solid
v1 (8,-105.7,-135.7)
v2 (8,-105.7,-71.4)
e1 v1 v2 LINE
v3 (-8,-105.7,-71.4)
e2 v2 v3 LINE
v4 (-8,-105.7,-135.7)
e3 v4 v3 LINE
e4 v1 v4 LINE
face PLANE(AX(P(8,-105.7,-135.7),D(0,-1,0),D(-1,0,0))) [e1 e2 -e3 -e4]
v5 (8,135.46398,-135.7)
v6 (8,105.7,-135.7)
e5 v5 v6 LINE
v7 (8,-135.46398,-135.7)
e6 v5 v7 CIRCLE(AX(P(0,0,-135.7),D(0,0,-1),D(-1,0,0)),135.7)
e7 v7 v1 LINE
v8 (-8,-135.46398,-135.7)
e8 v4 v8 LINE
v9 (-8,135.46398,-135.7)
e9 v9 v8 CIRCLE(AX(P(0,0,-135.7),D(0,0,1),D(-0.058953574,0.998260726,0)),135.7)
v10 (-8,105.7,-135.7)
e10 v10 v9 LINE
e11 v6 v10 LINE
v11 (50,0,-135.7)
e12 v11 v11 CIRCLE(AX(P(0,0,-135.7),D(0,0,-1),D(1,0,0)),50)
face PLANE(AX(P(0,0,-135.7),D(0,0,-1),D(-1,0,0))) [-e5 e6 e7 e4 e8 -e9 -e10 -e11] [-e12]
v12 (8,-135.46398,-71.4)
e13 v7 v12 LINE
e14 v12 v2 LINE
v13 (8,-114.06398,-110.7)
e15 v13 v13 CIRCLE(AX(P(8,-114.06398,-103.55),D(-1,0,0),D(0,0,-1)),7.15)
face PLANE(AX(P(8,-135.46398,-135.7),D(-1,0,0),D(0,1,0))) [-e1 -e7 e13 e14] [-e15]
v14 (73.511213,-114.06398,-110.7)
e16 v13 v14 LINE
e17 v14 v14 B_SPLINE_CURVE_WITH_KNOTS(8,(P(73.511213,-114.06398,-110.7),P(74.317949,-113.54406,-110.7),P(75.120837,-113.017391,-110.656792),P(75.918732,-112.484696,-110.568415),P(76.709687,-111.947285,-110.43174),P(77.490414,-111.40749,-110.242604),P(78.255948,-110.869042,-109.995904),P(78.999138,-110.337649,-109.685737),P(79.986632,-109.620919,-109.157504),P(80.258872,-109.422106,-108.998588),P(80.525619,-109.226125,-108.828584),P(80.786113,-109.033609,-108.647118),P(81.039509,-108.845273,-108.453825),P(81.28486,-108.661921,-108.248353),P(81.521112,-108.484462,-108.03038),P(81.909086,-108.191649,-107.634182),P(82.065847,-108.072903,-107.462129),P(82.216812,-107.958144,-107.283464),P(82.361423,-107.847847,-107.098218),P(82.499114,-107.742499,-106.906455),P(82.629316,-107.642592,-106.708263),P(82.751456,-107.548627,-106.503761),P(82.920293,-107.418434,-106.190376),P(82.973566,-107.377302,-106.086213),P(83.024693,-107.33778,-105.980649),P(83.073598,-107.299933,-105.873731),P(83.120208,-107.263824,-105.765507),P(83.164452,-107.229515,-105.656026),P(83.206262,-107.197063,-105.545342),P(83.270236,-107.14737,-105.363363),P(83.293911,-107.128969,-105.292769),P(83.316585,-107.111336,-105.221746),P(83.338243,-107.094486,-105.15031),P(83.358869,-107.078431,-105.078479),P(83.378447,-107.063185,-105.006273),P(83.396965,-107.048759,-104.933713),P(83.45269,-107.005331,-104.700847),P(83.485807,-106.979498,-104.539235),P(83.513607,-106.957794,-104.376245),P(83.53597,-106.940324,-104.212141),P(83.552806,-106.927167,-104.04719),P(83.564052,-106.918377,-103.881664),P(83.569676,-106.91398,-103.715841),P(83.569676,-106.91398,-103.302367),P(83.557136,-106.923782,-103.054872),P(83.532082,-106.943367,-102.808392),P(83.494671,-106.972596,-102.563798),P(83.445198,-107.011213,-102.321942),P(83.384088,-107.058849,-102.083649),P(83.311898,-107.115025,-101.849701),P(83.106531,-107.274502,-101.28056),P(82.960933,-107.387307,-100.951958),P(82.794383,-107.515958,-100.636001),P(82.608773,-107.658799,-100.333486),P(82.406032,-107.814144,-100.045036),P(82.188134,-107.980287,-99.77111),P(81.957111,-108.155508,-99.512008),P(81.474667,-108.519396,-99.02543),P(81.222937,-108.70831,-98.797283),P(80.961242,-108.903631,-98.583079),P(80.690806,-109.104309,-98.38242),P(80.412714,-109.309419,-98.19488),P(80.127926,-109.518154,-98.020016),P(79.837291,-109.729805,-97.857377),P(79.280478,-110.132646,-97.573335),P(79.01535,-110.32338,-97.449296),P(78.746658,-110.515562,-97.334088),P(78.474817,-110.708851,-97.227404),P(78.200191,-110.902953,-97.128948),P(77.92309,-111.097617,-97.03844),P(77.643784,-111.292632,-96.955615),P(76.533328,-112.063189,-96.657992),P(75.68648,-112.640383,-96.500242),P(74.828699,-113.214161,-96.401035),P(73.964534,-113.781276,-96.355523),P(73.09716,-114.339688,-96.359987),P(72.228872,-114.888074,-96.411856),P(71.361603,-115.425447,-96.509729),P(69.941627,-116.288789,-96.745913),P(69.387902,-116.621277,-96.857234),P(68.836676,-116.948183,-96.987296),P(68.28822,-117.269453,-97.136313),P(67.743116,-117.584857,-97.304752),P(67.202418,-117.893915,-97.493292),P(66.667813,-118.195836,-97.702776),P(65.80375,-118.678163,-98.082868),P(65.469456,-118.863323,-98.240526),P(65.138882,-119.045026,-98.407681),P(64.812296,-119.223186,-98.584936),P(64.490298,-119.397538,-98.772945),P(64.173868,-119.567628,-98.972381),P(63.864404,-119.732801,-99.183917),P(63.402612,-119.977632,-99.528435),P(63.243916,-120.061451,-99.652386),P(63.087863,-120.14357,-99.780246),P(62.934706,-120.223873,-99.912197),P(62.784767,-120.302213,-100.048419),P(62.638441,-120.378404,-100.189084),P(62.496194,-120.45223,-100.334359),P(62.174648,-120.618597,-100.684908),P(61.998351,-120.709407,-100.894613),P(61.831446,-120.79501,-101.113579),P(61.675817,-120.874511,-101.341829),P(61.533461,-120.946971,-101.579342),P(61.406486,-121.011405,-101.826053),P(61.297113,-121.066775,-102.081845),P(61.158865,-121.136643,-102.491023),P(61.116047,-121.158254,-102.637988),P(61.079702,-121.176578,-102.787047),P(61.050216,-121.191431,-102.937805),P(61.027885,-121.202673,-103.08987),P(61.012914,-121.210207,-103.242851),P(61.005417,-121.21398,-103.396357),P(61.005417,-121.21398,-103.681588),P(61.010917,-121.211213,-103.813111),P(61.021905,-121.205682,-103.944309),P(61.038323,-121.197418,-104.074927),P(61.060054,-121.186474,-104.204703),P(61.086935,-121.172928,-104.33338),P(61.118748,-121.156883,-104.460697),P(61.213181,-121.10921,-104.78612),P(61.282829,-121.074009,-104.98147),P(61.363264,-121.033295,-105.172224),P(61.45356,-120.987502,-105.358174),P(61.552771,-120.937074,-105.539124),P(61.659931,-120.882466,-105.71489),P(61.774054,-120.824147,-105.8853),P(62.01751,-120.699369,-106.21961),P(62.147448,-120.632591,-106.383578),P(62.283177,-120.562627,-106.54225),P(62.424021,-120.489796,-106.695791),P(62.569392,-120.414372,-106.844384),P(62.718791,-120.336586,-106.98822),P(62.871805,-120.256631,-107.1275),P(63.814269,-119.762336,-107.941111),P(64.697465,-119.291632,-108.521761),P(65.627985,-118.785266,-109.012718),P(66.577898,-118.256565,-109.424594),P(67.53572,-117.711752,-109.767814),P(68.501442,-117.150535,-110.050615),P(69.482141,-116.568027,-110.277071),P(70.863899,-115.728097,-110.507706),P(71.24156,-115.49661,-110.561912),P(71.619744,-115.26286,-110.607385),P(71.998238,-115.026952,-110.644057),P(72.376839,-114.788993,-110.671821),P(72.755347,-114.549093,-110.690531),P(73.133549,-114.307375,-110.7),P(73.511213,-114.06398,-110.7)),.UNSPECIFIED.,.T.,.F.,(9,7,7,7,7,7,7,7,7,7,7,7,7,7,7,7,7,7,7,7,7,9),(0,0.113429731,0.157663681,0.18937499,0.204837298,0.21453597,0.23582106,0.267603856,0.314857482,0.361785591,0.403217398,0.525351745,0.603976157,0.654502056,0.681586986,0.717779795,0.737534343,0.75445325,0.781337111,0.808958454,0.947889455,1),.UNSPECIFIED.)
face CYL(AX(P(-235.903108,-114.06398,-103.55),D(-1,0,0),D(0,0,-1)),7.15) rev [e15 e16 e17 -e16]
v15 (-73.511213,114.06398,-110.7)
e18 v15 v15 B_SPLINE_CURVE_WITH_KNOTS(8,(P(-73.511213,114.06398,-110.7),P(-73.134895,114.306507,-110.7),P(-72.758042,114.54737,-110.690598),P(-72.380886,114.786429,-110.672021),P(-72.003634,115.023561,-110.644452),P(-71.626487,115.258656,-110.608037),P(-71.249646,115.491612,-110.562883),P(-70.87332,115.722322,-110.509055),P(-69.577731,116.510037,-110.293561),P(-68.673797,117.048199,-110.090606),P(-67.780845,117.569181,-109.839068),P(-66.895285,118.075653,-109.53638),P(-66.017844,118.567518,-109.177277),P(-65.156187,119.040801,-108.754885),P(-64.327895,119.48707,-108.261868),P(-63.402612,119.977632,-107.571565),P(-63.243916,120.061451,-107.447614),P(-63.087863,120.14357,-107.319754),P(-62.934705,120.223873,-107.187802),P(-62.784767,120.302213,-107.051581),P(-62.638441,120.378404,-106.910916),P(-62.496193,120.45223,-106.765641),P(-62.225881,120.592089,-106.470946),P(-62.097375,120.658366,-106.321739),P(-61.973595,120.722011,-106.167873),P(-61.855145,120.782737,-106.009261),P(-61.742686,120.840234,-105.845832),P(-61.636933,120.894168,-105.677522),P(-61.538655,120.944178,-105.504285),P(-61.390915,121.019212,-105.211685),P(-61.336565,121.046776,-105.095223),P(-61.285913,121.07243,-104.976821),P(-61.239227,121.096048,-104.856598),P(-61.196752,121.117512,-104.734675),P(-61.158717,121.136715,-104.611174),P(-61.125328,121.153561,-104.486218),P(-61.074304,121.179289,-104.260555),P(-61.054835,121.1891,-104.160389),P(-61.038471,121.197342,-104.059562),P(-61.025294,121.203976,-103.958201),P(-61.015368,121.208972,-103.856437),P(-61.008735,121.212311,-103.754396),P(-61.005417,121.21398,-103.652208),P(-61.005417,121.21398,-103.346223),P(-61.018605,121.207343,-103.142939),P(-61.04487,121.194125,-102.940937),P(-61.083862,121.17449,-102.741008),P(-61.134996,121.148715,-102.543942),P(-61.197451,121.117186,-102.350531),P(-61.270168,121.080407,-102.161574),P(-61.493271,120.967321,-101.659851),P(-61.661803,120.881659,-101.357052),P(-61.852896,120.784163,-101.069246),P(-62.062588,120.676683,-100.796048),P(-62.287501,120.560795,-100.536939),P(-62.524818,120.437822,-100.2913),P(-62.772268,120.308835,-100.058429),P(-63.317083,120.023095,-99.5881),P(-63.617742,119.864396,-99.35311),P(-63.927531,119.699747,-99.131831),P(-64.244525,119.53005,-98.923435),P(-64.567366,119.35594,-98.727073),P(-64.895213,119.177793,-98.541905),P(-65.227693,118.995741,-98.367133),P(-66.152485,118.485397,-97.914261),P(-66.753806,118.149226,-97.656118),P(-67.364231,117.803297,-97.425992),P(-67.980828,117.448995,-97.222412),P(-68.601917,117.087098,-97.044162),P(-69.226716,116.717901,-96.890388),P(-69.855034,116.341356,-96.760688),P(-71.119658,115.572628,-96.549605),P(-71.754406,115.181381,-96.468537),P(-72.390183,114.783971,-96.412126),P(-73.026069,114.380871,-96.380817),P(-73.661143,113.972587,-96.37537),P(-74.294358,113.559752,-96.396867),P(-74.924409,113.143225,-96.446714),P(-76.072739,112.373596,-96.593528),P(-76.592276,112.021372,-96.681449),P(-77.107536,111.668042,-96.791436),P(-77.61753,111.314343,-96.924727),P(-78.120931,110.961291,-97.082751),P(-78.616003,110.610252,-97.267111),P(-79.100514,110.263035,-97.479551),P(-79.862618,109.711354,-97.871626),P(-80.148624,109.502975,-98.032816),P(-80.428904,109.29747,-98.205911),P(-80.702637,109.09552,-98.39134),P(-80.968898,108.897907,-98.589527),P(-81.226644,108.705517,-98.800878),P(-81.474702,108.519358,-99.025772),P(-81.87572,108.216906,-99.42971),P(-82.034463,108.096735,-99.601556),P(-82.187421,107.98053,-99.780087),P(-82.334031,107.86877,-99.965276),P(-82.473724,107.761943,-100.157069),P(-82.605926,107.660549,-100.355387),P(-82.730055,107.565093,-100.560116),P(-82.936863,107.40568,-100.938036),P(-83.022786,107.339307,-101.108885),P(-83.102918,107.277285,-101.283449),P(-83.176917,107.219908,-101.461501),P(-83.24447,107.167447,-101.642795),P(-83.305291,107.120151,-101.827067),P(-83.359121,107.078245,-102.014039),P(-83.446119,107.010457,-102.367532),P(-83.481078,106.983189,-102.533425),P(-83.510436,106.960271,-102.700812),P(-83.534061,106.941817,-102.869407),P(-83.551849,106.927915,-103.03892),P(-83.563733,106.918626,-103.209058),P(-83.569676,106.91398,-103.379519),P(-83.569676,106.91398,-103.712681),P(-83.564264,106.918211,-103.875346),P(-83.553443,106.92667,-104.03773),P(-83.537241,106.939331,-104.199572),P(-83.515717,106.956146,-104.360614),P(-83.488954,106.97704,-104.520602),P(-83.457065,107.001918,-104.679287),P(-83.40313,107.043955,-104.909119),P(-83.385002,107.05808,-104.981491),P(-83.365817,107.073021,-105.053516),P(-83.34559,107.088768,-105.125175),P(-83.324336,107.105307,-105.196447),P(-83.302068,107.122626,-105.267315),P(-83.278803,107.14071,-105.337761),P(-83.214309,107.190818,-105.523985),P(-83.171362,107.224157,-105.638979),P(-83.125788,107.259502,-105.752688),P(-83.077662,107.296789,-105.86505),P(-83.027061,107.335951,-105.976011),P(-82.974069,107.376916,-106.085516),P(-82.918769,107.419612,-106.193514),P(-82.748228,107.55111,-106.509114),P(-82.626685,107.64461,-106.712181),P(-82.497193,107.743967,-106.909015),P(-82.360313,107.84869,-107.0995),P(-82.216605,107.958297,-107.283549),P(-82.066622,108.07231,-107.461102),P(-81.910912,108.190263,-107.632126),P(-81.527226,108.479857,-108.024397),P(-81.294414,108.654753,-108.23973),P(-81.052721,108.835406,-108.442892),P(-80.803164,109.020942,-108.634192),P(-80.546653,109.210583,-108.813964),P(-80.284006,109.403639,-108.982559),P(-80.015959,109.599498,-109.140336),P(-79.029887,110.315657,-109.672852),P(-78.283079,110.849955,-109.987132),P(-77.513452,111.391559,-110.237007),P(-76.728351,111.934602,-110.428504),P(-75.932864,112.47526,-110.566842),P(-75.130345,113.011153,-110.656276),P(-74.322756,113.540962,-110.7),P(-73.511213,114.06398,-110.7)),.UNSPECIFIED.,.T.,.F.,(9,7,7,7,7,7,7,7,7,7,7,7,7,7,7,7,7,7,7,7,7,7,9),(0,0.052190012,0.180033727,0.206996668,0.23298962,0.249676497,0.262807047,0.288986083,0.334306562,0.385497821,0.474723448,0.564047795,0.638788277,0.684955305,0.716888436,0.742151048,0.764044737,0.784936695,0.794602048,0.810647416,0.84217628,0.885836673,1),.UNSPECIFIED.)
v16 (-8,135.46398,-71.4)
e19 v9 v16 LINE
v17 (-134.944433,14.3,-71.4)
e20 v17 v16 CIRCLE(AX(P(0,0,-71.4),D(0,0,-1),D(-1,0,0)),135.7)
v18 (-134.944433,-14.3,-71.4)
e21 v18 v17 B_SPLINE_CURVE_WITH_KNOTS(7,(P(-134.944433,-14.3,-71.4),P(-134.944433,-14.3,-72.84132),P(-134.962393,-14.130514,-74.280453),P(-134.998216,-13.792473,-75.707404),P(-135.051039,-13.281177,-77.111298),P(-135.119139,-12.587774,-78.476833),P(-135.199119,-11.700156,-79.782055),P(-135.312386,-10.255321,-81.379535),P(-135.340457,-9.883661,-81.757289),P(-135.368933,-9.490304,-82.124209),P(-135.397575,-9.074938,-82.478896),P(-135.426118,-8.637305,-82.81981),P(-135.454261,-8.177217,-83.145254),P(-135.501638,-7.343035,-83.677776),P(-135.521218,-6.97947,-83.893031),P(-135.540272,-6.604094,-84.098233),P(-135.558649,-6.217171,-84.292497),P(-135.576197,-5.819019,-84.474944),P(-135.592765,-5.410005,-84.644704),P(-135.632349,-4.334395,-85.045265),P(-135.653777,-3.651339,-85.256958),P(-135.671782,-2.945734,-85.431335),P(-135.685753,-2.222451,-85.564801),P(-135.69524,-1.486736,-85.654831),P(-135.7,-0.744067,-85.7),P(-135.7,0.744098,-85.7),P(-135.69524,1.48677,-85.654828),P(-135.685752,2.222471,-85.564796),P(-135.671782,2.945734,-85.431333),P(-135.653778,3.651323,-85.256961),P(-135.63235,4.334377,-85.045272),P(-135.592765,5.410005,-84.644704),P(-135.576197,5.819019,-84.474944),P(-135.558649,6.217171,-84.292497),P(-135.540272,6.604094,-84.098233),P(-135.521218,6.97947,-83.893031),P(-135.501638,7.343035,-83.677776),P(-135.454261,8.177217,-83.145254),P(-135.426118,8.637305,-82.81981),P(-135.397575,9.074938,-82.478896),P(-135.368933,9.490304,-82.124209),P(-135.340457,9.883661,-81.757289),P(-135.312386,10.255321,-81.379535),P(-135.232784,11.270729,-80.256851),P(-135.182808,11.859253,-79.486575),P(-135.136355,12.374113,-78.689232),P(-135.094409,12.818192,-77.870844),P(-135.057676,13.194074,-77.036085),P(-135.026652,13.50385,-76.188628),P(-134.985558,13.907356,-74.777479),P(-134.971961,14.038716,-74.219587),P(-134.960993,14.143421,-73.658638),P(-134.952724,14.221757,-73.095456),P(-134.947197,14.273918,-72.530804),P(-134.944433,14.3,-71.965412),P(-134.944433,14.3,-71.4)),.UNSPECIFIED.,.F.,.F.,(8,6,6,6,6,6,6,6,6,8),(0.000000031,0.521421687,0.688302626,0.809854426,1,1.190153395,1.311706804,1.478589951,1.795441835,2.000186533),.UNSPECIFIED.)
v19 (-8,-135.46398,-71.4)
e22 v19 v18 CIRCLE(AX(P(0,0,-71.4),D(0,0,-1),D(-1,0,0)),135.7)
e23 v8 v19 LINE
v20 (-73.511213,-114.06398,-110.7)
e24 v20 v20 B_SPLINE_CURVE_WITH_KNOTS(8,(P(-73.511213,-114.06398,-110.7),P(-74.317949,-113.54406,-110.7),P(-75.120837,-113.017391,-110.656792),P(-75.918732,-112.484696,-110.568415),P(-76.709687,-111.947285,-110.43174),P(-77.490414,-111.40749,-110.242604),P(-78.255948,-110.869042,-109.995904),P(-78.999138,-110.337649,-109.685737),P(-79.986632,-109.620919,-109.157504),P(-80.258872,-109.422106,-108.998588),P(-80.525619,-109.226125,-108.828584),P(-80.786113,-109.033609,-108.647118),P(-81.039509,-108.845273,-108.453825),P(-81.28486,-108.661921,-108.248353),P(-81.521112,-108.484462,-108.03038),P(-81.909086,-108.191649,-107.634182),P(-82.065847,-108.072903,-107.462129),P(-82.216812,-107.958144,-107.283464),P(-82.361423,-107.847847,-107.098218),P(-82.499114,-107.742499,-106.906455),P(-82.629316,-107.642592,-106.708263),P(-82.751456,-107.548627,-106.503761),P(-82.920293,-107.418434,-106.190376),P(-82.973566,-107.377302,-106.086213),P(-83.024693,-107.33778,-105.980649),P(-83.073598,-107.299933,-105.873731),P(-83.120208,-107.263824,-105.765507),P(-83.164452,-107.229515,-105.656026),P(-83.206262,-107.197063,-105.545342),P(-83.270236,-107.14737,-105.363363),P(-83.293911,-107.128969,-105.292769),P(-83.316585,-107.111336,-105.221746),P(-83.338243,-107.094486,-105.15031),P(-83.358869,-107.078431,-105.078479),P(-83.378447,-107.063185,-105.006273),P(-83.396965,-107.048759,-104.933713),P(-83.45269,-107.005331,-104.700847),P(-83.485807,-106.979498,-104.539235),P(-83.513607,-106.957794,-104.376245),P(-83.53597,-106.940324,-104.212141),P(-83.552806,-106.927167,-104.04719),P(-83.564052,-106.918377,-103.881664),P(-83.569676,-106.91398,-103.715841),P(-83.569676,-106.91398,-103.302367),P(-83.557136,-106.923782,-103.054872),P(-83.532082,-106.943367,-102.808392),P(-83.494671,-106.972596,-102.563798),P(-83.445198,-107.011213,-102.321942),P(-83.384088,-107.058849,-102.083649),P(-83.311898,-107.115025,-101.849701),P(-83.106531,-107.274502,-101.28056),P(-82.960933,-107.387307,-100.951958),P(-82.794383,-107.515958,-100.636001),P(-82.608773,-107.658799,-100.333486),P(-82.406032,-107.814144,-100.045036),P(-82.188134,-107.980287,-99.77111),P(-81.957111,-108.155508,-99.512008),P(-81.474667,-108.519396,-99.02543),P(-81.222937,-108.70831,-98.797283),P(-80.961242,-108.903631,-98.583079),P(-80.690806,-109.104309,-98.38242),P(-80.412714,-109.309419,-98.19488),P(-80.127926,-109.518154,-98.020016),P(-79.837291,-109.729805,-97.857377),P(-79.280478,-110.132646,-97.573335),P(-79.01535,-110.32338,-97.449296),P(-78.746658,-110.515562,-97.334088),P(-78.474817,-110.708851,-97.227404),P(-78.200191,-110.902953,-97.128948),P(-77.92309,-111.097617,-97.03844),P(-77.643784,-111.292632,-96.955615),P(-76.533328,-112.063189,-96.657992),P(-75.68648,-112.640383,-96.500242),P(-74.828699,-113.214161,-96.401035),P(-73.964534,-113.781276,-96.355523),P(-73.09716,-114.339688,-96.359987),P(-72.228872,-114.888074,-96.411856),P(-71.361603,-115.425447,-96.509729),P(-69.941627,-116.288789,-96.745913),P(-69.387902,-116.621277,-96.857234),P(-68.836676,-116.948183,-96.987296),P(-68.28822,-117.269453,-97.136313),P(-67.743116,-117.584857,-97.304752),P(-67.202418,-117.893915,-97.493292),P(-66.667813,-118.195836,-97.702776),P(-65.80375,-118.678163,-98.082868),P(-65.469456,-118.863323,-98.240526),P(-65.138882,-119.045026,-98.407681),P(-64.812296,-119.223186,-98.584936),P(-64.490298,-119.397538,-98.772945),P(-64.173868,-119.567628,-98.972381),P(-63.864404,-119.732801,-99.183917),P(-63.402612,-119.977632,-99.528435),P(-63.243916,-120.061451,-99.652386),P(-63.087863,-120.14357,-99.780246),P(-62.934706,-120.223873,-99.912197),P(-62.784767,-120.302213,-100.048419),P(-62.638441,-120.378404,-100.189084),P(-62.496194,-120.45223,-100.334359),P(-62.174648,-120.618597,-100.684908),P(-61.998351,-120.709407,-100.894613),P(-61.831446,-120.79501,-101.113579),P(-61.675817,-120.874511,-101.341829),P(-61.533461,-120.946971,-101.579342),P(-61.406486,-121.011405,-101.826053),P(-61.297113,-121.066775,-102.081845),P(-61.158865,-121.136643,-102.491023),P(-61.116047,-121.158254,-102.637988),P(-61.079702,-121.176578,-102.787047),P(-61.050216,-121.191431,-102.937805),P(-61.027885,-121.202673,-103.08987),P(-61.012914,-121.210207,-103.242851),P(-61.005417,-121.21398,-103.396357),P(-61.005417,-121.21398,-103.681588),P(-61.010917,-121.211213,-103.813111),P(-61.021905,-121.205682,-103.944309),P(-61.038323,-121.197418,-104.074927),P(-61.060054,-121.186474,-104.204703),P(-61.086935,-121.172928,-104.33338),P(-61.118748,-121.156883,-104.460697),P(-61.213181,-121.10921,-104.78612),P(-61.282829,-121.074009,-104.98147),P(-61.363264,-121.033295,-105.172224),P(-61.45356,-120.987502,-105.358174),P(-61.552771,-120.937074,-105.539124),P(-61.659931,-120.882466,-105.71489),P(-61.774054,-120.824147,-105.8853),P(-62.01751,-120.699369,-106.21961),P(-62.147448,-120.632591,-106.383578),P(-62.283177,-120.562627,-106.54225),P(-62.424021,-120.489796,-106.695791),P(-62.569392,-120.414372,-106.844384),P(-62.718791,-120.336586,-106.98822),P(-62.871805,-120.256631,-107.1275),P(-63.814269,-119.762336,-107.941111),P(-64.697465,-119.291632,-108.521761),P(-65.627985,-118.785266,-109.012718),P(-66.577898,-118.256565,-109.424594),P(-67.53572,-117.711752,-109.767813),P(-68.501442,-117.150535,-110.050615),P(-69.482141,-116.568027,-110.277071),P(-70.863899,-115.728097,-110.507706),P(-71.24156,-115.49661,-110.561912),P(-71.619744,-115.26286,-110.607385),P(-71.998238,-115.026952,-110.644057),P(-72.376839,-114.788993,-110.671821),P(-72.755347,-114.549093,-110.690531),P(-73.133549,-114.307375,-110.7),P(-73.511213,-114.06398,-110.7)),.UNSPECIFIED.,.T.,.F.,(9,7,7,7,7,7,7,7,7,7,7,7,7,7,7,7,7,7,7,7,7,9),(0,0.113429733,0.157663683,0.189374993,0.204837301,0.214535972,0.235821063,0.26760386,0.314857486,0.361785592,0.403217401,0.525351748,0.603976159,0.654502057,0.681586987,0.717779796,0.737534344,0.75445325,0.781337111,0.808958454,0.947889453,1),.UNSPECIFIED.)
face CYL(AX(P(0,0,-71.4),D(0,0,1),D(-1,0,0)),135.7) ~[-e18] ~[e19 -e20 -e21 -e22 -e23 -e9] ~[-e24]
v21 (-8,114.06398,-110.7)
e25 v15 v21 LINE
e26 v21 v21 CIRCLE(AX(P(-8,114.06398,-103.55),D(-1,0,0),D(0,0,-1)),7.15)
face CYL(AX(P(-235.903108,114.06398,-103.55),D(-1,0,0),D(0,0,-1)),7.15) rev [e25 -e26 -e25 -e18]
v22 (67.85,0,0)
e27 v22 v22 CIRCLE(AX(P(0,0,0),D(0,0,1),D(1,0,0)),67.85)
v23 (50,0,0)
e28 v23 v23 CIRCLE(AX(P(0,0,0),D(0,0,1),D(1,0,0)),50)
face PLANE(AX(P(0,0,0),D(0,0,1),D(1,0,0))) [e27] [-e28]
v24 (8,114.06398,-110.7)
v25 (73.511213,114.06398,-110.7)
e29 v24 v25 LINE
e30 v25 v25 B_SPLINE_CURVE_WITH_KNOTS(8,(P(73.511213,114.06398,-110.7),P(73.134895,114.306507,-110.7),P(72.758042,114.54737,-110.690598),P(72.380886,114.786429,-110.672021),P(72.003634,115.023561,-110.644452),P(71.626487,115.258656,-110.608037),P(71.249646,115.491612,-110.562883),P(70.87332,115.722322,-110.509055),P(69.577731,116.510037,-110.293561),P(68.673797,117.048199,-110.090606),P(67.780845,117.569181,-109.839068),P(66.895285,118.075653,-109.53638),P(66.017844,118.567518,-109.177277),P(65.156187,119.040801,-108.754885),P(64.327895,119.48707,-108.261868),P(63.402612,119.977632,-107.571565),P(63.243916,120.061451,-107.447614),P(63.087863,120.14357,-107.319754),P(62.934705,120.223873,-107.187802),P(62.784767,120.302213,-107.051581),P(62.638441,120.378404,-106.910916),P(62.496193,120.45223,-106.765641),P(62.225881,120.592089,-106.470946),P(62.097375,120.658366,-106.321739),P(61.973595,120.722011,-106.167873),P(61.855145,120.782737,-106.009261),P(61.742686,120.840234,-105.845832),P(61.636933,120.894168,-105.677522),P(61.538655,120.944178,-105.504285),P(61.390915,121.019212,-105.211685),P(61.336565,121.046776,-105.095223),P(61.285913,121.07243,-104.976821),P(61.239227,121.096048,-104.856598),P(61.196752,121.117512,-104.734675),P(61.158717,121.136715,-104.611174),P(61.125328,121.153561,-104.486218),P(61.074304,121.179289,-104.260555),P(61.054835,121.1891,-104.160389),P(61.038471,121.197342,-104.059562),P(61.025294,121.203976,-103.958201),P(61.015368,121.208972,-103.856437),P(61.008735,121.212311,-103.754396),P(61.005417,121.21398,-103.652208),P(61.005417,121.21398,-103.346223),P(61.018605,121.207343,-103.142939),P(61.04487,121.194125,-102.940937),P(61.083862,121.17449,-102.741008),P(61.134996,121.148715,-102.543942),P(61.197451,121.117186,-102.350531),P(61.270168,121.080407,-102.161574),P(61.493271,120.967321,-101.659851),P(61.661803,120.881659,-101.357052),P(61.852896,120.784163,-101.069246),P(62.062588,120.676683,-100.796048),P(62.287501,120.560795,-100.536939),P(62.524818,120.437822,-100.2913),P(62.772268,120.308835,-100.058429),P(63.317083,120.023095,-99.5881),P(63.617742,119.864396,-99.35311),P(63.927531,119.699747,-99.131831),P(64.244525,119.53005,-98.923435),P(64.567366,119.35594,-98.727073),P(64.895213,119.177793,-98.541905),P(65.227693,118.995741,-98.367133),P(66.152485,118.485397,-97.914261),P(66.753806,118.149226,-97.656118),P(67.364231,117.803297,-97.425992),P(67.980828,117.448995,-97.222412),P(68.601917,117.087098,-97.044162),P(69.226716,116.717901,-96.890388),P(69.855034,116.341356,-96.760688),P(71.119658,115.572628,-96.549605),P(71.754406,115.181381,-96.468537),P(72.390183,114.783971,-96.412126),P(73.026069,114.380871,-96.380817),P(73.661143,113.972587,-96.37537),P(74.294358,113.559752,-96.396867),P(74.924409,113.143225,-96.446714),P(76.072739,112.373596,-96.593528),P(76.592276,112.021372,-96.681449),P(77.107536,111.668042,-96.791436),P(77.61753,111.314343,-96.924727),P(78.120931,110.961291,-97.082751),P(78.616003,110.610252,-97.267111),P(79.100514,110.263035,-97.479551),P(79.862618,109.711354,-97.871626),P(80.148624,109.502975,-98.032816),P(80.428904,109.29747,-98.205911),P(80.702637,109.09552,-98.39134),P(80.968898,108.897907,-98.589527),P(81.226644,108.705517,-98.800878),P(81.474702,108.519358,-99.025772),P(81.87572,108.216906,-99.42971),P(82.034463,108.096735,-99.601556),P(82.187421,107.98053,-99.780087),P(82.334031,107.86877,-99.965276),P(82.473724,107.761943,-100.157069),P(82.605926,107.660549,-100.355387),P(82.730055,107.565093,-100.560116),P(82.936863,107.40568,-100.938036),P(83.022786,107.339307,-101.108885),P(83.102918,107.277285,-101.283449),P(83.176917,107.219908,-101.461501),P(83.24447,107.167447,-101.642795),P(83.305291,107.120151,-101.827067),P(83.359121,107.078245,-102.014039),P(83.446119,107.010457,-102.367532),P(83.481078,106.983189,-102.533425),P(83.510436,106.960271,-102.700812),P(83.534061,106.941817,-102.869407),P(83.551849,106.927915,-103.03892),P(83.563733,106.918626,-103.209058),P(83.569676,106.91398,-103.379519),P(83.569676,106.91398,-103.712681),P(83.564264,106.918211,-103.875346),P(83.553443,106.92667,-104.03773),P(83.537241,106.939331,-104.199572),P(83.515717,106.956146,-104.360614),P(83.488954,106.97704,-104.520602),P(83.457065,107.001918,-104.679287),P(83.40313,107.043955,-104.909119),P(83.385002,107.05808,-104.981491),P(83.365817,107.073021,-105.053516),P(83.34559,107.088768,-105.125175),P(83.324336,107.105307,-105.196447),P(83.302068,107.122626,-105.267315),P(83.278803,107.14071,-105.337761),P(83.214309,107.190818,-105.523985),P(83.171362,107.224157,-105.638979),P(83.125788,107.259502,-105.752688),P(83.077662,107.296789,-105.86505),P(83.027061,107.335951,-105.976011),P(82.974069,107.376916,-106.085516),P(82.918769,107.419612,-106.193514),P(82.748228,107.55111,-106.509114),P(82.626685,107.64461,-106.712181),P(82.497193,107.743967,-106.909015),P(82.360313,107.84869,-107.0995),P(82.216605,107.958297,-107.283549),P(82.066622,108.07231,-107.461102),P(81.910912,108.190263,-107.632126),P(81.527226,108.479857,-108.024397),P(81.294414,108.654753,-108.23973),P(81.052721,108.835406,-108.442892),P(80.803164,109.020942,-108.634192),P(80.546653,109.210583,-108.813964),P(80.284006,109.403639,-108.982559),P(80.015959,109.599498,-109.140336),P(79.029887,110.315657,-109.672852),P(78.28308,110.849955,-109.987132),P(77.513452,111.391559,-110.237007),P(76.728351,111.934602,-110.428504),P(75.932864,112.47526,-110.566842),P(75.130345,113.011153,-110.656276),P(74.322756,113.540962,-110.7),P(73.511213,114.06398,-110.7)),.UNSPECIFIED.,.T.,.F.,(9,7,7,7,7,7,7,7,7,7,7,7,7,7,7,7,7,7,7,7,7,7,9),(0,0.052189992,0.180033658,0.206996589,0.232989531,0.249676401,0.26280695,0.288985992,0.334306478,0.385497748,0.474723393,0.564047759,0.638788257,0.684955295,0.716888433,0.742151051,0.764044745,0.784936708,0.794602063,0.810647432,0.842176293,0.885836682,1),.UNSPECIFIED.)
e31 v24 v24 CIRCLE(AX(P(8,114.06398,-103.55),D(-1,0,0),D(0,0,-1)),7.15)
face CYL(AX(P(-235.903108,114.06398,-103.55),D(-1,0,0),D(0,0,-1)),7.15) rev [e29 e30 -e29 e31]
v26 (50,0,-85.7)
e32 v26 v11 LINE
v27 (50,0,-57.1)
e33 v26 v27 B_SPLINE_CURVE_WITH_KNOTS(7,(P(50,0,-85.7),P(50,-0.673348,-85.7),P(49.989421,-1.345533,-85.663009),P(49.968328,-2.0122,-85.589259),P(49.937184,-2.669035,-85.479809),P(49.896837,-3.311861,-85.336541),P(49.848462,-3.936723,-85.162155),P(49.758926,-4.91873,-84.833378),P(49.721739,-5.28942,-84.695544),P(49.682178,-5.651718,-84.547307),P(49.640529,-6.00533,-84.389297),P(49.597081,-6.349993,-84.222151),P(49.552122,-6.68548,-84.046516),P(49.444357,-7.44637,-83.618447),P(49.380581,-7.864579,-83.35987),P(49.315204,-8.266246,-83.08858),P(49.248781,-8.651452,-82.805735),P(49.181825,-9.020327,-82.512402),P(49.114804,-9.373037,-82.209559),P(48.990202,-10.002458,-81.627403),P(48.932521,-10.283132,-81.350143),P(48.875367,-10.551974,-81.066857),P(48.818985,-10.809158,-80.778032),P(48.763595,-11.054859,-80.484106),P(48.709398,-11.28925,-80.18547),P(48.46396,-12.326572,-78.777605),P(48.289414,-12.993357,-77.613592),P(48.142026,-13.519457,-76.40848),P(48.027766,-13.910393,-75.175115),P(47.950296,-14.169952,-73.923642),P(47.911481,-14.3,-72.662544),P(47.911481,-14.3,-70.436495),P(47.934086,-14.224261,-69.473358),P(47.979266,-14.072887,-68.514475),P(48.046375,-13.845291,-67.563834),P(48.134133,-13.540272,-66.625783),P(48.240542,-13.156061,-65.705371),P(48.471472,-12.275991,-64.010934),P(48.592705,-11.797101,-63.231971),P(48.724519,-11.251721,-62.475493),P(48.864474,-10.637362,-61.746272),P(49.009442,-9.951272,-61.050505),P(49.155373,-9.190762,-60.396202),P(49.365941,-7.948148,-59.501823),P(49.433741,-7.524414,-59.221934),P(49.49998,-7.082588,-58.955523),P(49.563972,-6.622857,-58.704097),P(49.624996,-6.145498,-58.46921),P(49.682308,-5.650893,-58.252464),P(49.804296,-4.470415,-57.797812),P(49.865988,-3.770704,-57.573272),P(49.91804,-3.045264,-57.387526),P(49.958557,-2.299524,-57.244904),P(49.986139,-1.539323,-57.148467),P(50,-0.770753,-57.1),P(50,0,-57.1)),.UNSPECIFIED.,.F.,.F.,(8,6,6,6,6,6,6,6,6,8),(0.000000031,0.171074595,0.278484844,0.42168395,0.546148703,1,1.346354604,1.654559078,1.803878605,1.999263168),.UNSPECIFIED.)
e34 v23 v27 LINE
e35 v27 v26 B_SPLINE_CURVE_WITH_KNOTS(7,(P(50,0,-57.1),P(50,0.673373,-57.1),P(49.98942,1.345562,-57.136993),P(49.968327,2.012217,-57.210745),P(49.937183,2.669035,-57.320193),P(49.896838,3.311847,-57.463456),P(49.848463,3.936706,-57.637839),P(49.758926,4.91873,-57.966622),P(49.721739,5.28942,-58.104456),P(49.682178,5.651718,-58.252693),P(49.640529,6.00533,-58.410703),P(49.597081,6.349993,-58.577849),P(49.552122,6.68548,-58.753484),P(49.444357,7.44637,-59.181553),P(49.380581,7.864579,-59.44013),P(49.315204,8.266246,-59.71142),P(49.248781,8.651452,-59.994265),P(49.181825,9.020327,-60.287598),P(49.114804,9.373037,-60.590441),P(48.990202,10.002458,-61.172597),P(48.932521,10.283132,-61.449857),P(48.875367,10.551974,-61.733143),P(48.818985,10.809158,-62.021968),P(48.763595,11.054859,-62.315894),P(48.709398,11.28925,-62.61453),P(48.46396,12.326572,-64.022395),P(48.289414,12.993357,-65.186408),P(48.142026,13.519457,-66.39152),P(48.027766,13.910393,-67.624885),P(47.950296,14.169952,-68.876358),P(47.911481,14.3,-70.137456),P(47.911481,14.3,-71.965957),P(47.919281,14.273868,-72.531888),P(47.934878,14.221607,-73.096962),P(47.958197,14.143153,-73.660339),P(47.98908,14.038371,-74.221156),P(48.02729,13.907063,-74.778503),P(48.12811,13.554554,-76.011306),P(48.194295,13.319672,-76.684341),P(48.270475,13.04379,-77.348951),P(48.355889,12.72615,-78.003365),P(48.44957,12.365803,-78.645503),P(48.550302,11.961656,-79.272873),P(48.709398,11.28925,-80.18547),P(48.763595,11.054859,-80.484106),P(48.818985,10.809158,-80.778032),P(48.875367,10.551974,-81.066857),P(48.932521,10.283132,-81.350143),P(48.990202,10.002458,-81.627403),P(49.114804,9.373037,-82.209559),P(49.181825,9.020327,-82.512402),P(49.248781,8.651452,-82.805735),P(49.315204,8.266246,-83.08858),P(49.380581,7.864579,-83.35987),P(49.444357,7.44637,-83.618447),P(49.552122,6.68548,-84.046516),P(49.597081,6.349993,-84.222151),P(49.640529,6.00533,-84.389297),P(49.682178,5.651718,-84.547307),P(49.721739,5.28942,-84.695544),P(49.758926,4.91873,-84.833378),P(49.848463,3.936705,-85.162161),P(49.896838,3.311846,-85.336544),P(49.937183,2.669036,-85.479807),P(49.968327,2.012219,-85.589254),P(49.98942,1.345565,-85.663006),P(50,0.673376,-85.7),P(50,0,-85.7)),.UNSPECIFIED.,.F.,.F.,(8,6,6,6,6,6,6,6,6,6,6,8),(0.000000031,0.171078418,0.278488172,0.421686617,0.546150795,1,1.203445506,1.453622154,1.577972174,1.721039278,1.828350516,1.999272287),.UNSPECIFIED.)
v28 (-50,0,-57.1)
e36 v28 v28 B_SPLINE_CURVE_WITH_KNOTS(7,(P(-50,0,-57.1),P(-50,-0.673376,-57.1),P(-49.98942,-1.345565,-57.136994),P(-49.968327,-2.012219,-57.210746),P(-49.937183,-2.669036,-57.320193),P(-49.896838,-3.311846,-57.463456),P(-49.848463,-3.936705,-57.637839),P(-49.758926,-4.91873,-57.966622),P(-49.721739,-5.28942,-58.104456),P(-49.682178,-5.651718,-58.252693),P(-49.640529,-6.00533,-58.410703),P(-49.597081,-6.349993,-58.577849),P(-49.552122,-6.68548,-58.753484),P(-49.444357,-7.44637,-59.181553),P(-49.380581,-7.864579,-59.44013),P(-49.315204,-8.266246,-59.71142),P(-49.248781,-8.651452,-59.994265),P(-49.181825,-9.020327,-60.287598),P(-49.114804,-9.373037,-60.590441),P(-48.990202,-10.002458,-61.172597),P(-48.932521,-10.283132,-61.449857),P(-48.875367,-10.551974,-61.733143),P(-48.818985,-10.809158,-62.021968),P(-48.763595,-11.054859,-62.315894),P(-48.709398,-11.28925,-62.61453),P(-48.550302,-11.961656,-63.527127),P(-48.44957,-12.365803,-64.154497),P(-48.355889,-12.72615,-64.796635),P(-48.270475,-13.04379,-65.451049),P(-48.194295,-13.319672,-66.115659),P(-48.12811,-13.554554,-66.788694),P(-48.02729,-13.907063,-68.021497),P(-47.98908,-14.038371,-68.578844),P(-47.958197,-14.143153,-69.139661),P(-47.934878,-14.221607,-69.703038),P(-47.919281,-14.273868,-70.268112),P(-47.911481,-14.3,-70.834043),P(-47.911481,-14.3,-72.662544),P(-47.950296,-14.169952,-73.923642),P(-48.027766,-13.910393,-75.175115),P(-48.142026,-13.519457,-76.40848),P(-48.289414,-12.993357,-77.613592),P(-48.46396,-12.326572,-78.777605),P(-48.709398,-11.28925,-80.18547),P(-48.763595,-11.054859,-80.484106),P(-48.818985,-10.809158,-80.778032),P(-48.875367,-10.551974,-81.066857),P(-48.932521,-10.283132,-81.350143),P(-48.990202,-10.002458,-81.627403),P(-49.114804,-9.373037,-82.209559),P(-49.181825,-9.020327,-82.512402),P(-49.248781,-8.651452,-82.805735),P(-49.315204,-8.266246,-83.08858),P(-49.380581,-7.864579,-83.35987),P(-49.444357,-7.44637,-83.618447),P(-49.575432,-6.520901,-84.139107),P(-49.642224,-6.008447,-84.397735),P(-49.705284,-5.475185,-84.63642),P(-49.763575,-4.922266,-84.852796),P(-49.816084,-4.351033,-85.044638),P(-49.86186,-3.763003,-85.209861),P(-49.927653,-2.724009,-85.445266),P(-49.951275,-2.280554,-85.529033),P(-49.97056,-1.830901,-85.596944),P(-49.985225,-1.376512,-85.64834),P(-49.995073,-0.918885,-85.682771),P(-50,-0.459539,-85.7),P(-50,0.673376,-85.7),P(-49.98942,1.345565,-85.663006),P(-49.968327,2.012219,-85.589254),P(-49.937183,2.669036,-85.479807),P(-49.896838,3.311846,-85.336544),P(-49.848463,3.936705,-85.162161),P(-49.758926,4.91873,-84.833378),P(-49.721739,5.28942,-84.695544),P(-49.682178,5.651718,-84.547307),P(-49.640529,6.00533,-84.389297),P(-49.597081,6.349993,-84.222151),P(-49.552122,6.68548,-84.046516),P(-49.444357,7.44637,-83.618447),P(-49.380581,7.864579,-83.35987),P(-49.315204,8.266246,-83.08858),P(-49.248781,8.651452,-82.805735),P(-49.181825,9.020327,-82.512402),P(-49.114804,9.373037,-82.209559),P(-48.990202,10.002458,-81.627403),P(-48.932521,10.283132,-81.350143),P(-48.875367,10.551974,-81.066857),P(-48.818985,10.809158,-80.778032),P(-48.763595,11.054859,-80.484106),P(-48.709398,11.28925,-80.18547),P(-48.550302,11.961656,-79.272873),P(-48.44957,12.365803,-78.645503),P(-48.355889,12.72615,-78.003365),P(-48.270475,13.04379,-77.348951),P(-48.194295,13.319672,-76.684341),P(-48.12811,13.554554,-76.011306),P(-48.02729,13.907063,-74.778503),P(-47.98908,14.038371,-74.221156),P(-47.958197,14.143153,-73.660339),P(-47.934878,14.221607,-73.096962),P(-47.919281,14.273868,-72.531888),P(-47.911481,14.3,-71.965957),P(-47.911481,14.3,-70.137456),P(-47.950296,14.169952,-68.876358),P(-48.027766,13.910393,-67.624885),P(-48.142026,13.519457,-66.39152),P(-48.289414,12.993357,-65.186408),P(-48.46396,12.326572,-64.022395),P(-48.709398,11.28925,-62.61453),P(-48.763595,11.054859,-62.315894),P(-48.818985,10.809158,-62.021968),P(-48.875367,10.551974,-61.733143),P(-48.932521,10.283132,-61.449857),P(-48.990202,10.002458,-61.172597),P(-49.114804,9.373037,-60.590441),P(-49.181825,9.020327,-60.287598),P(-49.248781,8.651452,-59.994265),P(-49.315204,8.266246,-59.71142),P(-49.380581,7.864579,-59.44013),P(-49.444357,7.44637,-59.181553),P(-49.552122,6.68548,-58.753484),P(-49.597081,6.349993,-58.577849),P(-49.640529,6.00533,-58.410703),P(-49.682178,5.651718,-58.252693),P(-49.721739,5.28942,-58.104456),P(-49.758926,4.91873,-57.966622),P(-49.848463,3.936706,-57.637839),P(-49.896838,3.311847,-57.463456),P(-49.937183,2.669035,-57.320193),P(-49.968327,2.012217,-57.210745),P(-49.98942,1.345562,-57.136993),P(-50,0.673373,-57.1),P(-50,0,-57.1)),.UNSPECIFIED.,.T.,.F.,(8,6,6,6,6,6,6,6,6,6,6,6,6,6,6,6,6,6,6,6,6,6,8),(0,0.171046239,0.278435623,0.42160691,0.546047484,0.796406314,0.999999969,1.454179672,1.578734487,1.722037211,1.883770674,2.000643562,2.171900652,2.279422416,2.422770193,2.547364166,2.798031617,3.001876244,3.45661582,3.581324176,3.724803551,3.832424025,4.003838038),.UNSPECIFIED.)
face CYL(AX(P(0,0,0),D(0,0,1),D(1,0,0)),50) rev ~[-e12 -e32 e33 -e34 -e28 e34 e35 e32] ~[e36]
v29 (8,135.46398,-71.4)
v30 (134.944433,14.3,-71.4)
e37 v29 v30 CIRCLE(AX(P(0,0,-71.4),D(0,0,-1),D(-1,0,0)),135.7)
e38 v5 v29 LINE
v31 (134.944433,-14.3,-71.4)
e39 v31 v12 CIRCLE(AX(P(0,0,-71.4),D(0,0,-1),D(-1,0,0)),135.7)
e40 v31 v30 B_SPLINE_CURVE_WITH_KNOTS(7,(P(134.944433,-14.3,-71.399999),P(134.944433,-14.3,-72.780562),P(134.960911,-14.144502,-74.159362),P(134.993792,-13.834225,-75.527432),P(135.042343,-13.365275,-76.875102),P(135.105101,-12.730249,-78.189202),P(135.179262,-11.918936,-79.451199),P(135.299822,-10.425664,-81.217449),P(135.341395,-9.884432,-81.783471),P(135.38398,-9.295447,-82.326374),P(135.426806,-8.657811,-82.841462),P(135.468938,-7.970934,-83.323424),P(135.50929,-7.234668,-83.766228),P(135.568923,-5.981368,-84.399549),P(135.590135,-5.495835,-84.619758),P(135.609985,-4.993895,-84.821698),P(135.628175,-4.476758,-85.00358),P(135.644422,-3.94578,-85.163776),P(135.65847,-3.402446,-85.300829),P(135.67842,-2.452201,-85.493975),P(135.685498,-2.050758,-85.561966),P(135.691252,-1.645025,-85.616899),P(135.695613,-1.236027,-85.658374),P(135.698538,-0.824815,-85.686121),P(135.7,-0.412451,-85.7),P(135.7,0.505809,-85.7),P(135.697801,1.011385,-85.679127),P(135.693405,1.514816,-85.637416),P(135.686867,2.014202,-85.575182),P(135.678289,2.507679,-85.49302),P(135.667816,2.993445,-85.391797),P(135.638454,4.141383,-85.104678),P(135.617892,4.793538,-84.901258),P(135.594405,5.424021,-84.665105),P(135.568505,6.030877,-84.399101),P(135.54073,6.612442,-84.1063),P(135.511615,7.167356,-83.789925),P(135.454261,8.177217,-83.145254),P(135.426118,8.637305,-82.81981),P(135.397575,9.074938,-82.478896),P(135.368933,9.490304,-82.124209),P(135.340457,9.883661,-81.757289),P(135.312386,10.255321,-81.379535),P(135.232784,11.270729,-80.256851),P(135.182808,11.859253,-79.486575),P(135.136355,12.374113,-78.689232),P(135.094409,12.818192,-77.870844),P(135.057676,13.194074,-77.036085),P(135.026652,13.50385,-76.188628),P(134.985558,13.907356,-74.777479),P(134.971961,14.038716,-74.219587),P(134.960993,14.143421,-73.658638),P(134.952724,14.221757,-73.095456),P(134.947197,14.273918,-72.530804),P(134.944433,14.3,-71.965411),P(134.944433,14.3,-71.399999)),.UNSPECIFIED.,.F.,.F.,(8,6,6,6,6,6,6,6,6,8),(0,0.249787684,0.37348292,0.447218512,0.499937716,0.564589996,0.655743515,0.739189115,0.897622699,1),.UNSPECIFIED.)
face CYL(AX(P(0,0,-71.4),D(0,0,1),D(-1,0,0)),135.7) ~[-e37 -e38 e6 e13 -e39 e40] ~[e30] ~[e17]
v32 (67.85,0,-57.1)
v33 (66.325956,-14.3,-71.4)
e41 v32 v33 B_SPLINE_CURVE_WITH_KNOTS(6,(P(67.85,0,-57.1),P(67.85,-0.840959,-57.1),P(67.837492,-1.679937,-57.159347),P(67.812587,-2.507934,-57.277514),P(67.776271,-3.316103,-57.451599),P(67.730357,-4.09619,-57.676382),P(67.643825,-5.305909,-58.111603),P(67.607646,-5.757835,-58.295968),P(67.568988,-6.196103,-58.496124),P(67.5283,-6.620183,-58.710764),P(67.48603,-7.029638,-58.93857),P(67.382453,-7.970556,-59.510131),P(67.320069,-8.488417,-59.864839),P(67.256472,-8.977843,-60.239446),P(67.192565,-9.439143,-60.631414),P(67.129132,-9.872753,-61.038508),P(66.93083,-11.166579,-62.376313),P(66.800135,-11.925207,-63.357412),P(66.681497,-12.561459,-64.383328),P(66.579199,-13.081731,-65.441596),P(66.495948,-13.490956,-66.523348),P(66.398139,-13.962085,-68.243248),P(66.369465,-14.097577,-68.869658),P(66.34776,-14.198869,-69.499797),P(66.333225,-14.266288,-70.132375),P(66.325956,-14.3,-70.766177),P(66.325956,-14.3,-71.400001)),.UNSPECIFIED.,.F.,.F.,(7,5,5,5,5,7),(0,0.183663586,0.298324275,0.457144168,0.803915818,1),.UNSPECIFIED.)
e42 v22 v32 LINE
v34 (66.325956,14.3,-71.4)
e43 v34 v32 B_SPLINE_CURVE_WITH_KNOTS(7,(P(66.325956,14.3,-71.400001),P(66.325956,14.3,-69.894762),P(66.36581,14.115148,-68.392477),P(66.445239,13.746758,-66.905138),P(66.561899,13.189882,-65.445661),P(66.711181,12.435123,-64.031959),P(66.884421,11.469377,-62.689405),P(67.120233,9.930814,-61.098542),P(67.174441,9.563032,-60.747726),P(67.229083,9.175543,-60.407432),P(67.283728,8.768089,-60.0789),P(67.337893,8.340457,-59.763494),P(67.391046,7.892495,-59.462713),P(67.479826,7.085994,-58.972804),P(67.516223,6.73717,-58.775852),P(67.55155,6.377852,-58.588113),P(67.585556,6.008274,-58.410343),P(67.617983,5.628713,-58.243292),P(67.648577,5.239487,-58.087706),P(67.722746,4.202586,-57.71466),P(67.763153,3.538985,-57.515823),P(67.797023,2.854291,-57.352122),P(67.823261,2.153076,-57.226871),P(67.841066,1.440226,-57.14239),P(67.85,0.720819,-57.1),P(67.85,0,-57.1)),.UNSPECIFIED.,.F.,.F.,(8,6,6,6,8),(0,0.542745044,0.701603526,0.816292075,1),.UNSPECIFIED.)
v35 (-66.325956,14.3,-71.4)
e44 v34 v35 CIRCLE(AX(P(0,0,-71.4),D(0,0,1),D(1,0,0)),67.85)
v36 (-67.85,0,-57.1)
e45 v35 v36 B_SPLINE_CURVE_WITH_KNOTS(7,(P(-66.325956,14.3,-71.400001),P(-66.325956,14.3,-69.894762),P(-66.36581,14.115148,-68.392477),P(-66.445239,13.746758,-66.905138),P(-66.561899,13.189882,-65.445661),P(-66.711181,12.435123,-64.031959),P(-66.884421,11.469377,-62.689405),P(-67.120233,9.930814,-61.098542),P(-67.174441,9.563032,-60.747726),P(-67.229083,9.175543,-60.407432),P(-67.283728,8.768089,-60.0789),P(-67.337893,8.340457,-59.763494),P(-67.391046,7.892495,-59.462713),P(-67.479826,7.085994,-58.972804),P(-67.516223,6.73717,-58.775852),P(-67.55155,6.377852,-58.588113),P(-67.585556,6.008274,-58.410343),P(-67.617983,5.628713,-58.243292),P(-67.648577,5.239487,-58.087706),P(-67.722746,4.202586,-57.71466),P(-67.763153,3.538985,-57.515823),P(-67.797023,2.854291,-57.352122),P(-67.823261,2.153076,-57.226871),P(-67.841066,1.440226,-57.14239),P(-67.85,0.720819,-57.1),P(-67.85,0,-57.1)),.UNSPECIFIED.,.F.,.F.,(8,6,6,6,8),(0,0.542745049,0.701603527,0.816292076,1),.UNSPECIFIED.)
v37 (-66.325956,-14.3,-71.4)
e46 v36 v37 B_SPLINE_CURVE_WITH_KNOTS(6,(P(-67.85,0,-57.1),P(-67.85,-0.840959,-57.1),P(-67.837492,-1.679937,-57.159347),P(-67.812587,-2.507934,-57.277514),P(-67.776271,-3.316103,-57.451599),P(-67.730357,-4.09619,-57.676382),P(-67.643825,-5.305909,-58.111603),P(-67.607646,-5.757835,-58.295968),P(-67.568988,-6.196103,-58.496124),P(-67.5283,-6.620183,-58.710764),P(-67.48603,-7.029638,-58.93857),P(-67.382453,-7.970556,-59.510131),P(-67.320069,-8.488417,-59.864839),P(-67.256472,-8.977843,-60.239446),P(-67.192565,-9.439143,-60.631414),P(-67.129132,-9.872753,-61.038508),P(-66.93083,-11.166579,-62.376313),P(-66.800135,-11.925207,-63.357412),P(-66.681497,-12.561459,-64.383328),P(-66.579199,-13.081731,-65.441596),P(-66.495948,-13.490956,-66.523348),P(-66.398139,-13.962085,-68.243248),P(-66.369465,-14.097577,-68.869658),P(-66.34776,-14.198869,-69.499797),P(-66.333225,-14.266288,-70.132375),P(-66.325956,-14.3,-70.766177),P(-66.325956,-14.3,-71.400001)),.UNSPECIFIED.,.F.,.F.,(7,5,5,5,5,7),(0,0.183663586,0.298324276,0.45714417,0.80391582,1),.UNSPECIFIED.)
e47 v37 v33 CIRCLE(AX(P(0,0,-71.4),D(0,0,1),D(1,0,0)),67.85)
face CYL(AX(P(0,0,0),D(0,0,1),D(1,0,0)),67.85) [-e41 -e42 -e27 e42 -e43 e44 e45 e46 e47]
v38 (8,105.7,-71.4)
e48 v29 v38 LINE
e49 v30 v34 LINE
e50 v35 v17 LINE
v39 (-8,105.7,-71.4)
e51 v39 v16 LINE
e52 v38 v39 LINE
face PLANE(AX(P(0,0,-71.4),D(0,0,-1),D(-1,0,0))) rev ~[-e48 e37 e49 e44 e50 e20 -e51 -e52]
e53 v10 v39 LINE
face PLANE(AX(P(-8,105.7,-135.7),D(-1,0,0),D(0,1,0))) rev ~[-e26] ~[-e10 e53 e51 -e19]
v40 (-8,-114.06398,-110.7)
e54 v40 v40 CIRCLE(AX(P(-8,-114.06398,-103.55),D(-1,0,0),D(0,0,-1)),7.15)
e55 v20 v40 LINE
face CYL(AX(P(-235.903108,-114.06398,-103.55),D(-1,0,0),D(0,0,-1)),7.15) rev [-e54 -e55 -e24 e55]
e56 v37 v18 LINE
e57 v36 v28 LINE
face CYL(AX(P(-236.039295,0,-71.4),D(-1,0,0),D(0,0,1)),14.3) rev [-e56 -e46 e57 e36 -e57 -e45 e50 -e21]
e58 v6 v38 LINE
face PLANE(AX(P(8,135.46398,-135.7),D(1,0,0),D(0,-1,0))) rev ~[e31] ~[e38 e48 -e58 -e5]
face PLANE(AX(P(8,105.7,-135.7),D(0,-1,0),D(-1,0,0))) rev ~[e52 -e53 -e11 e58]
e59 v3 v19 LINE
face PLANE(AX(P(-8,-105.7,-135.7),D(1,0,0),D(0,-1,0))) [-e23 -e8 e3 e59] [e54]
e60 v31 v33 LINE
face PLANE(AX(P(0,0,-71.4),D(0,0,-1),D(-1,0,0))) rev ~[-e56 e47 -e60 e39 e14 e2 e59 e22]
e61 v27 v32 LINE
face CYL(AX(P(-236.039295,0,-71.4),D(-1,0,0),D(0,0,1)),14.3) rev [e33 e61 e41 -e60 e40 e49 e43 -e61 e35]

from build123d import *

# Parameters (mm, degrees)
ESQUISSE1_R                  = 67.85
ESQUISSE1_R_2                = 50
BOSS_EXTRU_1_DEPTH           = 71.4
ESQUISSE3_R                  = 135.7
ESQUISSE3_R_2                = 50
BOSS_EXTRU_2_DEPTH           = 64.3
ENL_V_MAT_EXTRU_1_DEPTH      = 236.039294587
ENL_V_MAT_EXTRU_1_DEPTH_BACK = 236.039294587
ESQUISSE4_R                  = 14.3
ENL_V_MAT_EXTRU_2_DEPTH      = 236.03929476
ENL_V_MAT_EXTRU_3_DEPTH      = 235.903107858
ENL_V_MAT_EXTRU_3_DEPTH_BACK = 235.903107858
ESQUISSE7_R                  = 7.15


with BuildPart() as part:
    # Esquisse1 → Boss.-Extru.1 (new body)
    with BuildSketch(Plane.XY):
        Circle(ESQUISSE1_R)
        Circle(ESQUISSE1_R_2, mode=Mode.SUBTRACT)
    extrude(amount=-BOSS_EXTRU_1_DEPTH)

    # Esquisse3 → Boss.-Extru.2 (add)
    with BuildSketch(Plane(origin=(0, 0, -71.4), x_dir=(-1, 0, 0), z_dir=(0, 0, -1))):
        Circle(ESQUISSE3_R)
        with Locations(Location((0, 0, 0), (0, 0, 180))):
            Circle(ESQUISSE3_R_2, mode=Mode.SUBTRACT)
    extrude(amount=BOSS_EXTRU_2_DEPTH)

    # Esquisse4 → Enlèv. mat.-Extru.1 (cut, two sides: drawn at the far end of the back side and taken through both)
    with BuildSketch(Plane(origin=(0, 0, 0), x_dir=(0, 0, -1), z_dir=(1, 0, 0)).offset(-ENL_V_MAT_EXTRU_1_DEPTH_BACK)):
        with Locations(Location((71.4, 0, 0), (0, 0, 180))):
            Circle(ESQUISSE4_R)
    extrude(amount=ENL_V_MAT_EXTRU_1_DEPTH + ENL_V_MAT_EXTRU_1_DEPTH_BACK, mode=Mode.SUBTRACT)

    # Esquisse6 → Enlèv. mat.-Extru.2 (cut, through all)
    with BuildSketch(Plane(origin=(0, 0, -135.7), x_dir=(-1, 0, 0), z_dir=(0, 0, -1))):
        with BuildLine():
            Line((-8, 105.7), (8, 105.7))
            Line((8, 105.7), (8, 135.463980452))
            ThreePointArc((8, 135.463980452), (0, 135.7), (-8, 135.463980452))
            Line((-8, 135.463980452), (-8, 105.7))
        make_face()
        with BuildLine():
            Line((8, -105.7), (8, -135.463980452))
            ThreePointArc((8, -135.463980452), (0, -135.7), (-8, -135.463980452))
            Line((-8, -135.463980452), (-8, -105.7))
            Line((-8, -105.7), (8, -105.7))
        make_face()
    extrude(amount=-ENL_V_MAT_EXTRU_2_DEPTH, mode=Mode.SUBTRACT)

    # Esquisse7 → Enlèv. mat.-Extru.3 (cut, two sides: drawn at the far end of the back side and taken through both)
    with BuildSketch(Plane(origin=(0, 0, 0), x_dir=(0, 0, -1), z_dir=(1, 0, 0)).offset(-ENL_V_MAT_EXTRU_3_DEPTH_BACK)):
        with Locations((103.55, 114.063980452)):
            Circle(ESQUISSE7_R)
        with Locations((103.55, -114.063980452)):
            Circle(ESQUISSE7_R)
    extrude(amount=ENL_V_MAT_EXTRU_3_DEPTH + ENL_V_MAT_EXTRU_3_DEPTH_BACK, mode=Mode.SUBTRACT)


solid = part.part
